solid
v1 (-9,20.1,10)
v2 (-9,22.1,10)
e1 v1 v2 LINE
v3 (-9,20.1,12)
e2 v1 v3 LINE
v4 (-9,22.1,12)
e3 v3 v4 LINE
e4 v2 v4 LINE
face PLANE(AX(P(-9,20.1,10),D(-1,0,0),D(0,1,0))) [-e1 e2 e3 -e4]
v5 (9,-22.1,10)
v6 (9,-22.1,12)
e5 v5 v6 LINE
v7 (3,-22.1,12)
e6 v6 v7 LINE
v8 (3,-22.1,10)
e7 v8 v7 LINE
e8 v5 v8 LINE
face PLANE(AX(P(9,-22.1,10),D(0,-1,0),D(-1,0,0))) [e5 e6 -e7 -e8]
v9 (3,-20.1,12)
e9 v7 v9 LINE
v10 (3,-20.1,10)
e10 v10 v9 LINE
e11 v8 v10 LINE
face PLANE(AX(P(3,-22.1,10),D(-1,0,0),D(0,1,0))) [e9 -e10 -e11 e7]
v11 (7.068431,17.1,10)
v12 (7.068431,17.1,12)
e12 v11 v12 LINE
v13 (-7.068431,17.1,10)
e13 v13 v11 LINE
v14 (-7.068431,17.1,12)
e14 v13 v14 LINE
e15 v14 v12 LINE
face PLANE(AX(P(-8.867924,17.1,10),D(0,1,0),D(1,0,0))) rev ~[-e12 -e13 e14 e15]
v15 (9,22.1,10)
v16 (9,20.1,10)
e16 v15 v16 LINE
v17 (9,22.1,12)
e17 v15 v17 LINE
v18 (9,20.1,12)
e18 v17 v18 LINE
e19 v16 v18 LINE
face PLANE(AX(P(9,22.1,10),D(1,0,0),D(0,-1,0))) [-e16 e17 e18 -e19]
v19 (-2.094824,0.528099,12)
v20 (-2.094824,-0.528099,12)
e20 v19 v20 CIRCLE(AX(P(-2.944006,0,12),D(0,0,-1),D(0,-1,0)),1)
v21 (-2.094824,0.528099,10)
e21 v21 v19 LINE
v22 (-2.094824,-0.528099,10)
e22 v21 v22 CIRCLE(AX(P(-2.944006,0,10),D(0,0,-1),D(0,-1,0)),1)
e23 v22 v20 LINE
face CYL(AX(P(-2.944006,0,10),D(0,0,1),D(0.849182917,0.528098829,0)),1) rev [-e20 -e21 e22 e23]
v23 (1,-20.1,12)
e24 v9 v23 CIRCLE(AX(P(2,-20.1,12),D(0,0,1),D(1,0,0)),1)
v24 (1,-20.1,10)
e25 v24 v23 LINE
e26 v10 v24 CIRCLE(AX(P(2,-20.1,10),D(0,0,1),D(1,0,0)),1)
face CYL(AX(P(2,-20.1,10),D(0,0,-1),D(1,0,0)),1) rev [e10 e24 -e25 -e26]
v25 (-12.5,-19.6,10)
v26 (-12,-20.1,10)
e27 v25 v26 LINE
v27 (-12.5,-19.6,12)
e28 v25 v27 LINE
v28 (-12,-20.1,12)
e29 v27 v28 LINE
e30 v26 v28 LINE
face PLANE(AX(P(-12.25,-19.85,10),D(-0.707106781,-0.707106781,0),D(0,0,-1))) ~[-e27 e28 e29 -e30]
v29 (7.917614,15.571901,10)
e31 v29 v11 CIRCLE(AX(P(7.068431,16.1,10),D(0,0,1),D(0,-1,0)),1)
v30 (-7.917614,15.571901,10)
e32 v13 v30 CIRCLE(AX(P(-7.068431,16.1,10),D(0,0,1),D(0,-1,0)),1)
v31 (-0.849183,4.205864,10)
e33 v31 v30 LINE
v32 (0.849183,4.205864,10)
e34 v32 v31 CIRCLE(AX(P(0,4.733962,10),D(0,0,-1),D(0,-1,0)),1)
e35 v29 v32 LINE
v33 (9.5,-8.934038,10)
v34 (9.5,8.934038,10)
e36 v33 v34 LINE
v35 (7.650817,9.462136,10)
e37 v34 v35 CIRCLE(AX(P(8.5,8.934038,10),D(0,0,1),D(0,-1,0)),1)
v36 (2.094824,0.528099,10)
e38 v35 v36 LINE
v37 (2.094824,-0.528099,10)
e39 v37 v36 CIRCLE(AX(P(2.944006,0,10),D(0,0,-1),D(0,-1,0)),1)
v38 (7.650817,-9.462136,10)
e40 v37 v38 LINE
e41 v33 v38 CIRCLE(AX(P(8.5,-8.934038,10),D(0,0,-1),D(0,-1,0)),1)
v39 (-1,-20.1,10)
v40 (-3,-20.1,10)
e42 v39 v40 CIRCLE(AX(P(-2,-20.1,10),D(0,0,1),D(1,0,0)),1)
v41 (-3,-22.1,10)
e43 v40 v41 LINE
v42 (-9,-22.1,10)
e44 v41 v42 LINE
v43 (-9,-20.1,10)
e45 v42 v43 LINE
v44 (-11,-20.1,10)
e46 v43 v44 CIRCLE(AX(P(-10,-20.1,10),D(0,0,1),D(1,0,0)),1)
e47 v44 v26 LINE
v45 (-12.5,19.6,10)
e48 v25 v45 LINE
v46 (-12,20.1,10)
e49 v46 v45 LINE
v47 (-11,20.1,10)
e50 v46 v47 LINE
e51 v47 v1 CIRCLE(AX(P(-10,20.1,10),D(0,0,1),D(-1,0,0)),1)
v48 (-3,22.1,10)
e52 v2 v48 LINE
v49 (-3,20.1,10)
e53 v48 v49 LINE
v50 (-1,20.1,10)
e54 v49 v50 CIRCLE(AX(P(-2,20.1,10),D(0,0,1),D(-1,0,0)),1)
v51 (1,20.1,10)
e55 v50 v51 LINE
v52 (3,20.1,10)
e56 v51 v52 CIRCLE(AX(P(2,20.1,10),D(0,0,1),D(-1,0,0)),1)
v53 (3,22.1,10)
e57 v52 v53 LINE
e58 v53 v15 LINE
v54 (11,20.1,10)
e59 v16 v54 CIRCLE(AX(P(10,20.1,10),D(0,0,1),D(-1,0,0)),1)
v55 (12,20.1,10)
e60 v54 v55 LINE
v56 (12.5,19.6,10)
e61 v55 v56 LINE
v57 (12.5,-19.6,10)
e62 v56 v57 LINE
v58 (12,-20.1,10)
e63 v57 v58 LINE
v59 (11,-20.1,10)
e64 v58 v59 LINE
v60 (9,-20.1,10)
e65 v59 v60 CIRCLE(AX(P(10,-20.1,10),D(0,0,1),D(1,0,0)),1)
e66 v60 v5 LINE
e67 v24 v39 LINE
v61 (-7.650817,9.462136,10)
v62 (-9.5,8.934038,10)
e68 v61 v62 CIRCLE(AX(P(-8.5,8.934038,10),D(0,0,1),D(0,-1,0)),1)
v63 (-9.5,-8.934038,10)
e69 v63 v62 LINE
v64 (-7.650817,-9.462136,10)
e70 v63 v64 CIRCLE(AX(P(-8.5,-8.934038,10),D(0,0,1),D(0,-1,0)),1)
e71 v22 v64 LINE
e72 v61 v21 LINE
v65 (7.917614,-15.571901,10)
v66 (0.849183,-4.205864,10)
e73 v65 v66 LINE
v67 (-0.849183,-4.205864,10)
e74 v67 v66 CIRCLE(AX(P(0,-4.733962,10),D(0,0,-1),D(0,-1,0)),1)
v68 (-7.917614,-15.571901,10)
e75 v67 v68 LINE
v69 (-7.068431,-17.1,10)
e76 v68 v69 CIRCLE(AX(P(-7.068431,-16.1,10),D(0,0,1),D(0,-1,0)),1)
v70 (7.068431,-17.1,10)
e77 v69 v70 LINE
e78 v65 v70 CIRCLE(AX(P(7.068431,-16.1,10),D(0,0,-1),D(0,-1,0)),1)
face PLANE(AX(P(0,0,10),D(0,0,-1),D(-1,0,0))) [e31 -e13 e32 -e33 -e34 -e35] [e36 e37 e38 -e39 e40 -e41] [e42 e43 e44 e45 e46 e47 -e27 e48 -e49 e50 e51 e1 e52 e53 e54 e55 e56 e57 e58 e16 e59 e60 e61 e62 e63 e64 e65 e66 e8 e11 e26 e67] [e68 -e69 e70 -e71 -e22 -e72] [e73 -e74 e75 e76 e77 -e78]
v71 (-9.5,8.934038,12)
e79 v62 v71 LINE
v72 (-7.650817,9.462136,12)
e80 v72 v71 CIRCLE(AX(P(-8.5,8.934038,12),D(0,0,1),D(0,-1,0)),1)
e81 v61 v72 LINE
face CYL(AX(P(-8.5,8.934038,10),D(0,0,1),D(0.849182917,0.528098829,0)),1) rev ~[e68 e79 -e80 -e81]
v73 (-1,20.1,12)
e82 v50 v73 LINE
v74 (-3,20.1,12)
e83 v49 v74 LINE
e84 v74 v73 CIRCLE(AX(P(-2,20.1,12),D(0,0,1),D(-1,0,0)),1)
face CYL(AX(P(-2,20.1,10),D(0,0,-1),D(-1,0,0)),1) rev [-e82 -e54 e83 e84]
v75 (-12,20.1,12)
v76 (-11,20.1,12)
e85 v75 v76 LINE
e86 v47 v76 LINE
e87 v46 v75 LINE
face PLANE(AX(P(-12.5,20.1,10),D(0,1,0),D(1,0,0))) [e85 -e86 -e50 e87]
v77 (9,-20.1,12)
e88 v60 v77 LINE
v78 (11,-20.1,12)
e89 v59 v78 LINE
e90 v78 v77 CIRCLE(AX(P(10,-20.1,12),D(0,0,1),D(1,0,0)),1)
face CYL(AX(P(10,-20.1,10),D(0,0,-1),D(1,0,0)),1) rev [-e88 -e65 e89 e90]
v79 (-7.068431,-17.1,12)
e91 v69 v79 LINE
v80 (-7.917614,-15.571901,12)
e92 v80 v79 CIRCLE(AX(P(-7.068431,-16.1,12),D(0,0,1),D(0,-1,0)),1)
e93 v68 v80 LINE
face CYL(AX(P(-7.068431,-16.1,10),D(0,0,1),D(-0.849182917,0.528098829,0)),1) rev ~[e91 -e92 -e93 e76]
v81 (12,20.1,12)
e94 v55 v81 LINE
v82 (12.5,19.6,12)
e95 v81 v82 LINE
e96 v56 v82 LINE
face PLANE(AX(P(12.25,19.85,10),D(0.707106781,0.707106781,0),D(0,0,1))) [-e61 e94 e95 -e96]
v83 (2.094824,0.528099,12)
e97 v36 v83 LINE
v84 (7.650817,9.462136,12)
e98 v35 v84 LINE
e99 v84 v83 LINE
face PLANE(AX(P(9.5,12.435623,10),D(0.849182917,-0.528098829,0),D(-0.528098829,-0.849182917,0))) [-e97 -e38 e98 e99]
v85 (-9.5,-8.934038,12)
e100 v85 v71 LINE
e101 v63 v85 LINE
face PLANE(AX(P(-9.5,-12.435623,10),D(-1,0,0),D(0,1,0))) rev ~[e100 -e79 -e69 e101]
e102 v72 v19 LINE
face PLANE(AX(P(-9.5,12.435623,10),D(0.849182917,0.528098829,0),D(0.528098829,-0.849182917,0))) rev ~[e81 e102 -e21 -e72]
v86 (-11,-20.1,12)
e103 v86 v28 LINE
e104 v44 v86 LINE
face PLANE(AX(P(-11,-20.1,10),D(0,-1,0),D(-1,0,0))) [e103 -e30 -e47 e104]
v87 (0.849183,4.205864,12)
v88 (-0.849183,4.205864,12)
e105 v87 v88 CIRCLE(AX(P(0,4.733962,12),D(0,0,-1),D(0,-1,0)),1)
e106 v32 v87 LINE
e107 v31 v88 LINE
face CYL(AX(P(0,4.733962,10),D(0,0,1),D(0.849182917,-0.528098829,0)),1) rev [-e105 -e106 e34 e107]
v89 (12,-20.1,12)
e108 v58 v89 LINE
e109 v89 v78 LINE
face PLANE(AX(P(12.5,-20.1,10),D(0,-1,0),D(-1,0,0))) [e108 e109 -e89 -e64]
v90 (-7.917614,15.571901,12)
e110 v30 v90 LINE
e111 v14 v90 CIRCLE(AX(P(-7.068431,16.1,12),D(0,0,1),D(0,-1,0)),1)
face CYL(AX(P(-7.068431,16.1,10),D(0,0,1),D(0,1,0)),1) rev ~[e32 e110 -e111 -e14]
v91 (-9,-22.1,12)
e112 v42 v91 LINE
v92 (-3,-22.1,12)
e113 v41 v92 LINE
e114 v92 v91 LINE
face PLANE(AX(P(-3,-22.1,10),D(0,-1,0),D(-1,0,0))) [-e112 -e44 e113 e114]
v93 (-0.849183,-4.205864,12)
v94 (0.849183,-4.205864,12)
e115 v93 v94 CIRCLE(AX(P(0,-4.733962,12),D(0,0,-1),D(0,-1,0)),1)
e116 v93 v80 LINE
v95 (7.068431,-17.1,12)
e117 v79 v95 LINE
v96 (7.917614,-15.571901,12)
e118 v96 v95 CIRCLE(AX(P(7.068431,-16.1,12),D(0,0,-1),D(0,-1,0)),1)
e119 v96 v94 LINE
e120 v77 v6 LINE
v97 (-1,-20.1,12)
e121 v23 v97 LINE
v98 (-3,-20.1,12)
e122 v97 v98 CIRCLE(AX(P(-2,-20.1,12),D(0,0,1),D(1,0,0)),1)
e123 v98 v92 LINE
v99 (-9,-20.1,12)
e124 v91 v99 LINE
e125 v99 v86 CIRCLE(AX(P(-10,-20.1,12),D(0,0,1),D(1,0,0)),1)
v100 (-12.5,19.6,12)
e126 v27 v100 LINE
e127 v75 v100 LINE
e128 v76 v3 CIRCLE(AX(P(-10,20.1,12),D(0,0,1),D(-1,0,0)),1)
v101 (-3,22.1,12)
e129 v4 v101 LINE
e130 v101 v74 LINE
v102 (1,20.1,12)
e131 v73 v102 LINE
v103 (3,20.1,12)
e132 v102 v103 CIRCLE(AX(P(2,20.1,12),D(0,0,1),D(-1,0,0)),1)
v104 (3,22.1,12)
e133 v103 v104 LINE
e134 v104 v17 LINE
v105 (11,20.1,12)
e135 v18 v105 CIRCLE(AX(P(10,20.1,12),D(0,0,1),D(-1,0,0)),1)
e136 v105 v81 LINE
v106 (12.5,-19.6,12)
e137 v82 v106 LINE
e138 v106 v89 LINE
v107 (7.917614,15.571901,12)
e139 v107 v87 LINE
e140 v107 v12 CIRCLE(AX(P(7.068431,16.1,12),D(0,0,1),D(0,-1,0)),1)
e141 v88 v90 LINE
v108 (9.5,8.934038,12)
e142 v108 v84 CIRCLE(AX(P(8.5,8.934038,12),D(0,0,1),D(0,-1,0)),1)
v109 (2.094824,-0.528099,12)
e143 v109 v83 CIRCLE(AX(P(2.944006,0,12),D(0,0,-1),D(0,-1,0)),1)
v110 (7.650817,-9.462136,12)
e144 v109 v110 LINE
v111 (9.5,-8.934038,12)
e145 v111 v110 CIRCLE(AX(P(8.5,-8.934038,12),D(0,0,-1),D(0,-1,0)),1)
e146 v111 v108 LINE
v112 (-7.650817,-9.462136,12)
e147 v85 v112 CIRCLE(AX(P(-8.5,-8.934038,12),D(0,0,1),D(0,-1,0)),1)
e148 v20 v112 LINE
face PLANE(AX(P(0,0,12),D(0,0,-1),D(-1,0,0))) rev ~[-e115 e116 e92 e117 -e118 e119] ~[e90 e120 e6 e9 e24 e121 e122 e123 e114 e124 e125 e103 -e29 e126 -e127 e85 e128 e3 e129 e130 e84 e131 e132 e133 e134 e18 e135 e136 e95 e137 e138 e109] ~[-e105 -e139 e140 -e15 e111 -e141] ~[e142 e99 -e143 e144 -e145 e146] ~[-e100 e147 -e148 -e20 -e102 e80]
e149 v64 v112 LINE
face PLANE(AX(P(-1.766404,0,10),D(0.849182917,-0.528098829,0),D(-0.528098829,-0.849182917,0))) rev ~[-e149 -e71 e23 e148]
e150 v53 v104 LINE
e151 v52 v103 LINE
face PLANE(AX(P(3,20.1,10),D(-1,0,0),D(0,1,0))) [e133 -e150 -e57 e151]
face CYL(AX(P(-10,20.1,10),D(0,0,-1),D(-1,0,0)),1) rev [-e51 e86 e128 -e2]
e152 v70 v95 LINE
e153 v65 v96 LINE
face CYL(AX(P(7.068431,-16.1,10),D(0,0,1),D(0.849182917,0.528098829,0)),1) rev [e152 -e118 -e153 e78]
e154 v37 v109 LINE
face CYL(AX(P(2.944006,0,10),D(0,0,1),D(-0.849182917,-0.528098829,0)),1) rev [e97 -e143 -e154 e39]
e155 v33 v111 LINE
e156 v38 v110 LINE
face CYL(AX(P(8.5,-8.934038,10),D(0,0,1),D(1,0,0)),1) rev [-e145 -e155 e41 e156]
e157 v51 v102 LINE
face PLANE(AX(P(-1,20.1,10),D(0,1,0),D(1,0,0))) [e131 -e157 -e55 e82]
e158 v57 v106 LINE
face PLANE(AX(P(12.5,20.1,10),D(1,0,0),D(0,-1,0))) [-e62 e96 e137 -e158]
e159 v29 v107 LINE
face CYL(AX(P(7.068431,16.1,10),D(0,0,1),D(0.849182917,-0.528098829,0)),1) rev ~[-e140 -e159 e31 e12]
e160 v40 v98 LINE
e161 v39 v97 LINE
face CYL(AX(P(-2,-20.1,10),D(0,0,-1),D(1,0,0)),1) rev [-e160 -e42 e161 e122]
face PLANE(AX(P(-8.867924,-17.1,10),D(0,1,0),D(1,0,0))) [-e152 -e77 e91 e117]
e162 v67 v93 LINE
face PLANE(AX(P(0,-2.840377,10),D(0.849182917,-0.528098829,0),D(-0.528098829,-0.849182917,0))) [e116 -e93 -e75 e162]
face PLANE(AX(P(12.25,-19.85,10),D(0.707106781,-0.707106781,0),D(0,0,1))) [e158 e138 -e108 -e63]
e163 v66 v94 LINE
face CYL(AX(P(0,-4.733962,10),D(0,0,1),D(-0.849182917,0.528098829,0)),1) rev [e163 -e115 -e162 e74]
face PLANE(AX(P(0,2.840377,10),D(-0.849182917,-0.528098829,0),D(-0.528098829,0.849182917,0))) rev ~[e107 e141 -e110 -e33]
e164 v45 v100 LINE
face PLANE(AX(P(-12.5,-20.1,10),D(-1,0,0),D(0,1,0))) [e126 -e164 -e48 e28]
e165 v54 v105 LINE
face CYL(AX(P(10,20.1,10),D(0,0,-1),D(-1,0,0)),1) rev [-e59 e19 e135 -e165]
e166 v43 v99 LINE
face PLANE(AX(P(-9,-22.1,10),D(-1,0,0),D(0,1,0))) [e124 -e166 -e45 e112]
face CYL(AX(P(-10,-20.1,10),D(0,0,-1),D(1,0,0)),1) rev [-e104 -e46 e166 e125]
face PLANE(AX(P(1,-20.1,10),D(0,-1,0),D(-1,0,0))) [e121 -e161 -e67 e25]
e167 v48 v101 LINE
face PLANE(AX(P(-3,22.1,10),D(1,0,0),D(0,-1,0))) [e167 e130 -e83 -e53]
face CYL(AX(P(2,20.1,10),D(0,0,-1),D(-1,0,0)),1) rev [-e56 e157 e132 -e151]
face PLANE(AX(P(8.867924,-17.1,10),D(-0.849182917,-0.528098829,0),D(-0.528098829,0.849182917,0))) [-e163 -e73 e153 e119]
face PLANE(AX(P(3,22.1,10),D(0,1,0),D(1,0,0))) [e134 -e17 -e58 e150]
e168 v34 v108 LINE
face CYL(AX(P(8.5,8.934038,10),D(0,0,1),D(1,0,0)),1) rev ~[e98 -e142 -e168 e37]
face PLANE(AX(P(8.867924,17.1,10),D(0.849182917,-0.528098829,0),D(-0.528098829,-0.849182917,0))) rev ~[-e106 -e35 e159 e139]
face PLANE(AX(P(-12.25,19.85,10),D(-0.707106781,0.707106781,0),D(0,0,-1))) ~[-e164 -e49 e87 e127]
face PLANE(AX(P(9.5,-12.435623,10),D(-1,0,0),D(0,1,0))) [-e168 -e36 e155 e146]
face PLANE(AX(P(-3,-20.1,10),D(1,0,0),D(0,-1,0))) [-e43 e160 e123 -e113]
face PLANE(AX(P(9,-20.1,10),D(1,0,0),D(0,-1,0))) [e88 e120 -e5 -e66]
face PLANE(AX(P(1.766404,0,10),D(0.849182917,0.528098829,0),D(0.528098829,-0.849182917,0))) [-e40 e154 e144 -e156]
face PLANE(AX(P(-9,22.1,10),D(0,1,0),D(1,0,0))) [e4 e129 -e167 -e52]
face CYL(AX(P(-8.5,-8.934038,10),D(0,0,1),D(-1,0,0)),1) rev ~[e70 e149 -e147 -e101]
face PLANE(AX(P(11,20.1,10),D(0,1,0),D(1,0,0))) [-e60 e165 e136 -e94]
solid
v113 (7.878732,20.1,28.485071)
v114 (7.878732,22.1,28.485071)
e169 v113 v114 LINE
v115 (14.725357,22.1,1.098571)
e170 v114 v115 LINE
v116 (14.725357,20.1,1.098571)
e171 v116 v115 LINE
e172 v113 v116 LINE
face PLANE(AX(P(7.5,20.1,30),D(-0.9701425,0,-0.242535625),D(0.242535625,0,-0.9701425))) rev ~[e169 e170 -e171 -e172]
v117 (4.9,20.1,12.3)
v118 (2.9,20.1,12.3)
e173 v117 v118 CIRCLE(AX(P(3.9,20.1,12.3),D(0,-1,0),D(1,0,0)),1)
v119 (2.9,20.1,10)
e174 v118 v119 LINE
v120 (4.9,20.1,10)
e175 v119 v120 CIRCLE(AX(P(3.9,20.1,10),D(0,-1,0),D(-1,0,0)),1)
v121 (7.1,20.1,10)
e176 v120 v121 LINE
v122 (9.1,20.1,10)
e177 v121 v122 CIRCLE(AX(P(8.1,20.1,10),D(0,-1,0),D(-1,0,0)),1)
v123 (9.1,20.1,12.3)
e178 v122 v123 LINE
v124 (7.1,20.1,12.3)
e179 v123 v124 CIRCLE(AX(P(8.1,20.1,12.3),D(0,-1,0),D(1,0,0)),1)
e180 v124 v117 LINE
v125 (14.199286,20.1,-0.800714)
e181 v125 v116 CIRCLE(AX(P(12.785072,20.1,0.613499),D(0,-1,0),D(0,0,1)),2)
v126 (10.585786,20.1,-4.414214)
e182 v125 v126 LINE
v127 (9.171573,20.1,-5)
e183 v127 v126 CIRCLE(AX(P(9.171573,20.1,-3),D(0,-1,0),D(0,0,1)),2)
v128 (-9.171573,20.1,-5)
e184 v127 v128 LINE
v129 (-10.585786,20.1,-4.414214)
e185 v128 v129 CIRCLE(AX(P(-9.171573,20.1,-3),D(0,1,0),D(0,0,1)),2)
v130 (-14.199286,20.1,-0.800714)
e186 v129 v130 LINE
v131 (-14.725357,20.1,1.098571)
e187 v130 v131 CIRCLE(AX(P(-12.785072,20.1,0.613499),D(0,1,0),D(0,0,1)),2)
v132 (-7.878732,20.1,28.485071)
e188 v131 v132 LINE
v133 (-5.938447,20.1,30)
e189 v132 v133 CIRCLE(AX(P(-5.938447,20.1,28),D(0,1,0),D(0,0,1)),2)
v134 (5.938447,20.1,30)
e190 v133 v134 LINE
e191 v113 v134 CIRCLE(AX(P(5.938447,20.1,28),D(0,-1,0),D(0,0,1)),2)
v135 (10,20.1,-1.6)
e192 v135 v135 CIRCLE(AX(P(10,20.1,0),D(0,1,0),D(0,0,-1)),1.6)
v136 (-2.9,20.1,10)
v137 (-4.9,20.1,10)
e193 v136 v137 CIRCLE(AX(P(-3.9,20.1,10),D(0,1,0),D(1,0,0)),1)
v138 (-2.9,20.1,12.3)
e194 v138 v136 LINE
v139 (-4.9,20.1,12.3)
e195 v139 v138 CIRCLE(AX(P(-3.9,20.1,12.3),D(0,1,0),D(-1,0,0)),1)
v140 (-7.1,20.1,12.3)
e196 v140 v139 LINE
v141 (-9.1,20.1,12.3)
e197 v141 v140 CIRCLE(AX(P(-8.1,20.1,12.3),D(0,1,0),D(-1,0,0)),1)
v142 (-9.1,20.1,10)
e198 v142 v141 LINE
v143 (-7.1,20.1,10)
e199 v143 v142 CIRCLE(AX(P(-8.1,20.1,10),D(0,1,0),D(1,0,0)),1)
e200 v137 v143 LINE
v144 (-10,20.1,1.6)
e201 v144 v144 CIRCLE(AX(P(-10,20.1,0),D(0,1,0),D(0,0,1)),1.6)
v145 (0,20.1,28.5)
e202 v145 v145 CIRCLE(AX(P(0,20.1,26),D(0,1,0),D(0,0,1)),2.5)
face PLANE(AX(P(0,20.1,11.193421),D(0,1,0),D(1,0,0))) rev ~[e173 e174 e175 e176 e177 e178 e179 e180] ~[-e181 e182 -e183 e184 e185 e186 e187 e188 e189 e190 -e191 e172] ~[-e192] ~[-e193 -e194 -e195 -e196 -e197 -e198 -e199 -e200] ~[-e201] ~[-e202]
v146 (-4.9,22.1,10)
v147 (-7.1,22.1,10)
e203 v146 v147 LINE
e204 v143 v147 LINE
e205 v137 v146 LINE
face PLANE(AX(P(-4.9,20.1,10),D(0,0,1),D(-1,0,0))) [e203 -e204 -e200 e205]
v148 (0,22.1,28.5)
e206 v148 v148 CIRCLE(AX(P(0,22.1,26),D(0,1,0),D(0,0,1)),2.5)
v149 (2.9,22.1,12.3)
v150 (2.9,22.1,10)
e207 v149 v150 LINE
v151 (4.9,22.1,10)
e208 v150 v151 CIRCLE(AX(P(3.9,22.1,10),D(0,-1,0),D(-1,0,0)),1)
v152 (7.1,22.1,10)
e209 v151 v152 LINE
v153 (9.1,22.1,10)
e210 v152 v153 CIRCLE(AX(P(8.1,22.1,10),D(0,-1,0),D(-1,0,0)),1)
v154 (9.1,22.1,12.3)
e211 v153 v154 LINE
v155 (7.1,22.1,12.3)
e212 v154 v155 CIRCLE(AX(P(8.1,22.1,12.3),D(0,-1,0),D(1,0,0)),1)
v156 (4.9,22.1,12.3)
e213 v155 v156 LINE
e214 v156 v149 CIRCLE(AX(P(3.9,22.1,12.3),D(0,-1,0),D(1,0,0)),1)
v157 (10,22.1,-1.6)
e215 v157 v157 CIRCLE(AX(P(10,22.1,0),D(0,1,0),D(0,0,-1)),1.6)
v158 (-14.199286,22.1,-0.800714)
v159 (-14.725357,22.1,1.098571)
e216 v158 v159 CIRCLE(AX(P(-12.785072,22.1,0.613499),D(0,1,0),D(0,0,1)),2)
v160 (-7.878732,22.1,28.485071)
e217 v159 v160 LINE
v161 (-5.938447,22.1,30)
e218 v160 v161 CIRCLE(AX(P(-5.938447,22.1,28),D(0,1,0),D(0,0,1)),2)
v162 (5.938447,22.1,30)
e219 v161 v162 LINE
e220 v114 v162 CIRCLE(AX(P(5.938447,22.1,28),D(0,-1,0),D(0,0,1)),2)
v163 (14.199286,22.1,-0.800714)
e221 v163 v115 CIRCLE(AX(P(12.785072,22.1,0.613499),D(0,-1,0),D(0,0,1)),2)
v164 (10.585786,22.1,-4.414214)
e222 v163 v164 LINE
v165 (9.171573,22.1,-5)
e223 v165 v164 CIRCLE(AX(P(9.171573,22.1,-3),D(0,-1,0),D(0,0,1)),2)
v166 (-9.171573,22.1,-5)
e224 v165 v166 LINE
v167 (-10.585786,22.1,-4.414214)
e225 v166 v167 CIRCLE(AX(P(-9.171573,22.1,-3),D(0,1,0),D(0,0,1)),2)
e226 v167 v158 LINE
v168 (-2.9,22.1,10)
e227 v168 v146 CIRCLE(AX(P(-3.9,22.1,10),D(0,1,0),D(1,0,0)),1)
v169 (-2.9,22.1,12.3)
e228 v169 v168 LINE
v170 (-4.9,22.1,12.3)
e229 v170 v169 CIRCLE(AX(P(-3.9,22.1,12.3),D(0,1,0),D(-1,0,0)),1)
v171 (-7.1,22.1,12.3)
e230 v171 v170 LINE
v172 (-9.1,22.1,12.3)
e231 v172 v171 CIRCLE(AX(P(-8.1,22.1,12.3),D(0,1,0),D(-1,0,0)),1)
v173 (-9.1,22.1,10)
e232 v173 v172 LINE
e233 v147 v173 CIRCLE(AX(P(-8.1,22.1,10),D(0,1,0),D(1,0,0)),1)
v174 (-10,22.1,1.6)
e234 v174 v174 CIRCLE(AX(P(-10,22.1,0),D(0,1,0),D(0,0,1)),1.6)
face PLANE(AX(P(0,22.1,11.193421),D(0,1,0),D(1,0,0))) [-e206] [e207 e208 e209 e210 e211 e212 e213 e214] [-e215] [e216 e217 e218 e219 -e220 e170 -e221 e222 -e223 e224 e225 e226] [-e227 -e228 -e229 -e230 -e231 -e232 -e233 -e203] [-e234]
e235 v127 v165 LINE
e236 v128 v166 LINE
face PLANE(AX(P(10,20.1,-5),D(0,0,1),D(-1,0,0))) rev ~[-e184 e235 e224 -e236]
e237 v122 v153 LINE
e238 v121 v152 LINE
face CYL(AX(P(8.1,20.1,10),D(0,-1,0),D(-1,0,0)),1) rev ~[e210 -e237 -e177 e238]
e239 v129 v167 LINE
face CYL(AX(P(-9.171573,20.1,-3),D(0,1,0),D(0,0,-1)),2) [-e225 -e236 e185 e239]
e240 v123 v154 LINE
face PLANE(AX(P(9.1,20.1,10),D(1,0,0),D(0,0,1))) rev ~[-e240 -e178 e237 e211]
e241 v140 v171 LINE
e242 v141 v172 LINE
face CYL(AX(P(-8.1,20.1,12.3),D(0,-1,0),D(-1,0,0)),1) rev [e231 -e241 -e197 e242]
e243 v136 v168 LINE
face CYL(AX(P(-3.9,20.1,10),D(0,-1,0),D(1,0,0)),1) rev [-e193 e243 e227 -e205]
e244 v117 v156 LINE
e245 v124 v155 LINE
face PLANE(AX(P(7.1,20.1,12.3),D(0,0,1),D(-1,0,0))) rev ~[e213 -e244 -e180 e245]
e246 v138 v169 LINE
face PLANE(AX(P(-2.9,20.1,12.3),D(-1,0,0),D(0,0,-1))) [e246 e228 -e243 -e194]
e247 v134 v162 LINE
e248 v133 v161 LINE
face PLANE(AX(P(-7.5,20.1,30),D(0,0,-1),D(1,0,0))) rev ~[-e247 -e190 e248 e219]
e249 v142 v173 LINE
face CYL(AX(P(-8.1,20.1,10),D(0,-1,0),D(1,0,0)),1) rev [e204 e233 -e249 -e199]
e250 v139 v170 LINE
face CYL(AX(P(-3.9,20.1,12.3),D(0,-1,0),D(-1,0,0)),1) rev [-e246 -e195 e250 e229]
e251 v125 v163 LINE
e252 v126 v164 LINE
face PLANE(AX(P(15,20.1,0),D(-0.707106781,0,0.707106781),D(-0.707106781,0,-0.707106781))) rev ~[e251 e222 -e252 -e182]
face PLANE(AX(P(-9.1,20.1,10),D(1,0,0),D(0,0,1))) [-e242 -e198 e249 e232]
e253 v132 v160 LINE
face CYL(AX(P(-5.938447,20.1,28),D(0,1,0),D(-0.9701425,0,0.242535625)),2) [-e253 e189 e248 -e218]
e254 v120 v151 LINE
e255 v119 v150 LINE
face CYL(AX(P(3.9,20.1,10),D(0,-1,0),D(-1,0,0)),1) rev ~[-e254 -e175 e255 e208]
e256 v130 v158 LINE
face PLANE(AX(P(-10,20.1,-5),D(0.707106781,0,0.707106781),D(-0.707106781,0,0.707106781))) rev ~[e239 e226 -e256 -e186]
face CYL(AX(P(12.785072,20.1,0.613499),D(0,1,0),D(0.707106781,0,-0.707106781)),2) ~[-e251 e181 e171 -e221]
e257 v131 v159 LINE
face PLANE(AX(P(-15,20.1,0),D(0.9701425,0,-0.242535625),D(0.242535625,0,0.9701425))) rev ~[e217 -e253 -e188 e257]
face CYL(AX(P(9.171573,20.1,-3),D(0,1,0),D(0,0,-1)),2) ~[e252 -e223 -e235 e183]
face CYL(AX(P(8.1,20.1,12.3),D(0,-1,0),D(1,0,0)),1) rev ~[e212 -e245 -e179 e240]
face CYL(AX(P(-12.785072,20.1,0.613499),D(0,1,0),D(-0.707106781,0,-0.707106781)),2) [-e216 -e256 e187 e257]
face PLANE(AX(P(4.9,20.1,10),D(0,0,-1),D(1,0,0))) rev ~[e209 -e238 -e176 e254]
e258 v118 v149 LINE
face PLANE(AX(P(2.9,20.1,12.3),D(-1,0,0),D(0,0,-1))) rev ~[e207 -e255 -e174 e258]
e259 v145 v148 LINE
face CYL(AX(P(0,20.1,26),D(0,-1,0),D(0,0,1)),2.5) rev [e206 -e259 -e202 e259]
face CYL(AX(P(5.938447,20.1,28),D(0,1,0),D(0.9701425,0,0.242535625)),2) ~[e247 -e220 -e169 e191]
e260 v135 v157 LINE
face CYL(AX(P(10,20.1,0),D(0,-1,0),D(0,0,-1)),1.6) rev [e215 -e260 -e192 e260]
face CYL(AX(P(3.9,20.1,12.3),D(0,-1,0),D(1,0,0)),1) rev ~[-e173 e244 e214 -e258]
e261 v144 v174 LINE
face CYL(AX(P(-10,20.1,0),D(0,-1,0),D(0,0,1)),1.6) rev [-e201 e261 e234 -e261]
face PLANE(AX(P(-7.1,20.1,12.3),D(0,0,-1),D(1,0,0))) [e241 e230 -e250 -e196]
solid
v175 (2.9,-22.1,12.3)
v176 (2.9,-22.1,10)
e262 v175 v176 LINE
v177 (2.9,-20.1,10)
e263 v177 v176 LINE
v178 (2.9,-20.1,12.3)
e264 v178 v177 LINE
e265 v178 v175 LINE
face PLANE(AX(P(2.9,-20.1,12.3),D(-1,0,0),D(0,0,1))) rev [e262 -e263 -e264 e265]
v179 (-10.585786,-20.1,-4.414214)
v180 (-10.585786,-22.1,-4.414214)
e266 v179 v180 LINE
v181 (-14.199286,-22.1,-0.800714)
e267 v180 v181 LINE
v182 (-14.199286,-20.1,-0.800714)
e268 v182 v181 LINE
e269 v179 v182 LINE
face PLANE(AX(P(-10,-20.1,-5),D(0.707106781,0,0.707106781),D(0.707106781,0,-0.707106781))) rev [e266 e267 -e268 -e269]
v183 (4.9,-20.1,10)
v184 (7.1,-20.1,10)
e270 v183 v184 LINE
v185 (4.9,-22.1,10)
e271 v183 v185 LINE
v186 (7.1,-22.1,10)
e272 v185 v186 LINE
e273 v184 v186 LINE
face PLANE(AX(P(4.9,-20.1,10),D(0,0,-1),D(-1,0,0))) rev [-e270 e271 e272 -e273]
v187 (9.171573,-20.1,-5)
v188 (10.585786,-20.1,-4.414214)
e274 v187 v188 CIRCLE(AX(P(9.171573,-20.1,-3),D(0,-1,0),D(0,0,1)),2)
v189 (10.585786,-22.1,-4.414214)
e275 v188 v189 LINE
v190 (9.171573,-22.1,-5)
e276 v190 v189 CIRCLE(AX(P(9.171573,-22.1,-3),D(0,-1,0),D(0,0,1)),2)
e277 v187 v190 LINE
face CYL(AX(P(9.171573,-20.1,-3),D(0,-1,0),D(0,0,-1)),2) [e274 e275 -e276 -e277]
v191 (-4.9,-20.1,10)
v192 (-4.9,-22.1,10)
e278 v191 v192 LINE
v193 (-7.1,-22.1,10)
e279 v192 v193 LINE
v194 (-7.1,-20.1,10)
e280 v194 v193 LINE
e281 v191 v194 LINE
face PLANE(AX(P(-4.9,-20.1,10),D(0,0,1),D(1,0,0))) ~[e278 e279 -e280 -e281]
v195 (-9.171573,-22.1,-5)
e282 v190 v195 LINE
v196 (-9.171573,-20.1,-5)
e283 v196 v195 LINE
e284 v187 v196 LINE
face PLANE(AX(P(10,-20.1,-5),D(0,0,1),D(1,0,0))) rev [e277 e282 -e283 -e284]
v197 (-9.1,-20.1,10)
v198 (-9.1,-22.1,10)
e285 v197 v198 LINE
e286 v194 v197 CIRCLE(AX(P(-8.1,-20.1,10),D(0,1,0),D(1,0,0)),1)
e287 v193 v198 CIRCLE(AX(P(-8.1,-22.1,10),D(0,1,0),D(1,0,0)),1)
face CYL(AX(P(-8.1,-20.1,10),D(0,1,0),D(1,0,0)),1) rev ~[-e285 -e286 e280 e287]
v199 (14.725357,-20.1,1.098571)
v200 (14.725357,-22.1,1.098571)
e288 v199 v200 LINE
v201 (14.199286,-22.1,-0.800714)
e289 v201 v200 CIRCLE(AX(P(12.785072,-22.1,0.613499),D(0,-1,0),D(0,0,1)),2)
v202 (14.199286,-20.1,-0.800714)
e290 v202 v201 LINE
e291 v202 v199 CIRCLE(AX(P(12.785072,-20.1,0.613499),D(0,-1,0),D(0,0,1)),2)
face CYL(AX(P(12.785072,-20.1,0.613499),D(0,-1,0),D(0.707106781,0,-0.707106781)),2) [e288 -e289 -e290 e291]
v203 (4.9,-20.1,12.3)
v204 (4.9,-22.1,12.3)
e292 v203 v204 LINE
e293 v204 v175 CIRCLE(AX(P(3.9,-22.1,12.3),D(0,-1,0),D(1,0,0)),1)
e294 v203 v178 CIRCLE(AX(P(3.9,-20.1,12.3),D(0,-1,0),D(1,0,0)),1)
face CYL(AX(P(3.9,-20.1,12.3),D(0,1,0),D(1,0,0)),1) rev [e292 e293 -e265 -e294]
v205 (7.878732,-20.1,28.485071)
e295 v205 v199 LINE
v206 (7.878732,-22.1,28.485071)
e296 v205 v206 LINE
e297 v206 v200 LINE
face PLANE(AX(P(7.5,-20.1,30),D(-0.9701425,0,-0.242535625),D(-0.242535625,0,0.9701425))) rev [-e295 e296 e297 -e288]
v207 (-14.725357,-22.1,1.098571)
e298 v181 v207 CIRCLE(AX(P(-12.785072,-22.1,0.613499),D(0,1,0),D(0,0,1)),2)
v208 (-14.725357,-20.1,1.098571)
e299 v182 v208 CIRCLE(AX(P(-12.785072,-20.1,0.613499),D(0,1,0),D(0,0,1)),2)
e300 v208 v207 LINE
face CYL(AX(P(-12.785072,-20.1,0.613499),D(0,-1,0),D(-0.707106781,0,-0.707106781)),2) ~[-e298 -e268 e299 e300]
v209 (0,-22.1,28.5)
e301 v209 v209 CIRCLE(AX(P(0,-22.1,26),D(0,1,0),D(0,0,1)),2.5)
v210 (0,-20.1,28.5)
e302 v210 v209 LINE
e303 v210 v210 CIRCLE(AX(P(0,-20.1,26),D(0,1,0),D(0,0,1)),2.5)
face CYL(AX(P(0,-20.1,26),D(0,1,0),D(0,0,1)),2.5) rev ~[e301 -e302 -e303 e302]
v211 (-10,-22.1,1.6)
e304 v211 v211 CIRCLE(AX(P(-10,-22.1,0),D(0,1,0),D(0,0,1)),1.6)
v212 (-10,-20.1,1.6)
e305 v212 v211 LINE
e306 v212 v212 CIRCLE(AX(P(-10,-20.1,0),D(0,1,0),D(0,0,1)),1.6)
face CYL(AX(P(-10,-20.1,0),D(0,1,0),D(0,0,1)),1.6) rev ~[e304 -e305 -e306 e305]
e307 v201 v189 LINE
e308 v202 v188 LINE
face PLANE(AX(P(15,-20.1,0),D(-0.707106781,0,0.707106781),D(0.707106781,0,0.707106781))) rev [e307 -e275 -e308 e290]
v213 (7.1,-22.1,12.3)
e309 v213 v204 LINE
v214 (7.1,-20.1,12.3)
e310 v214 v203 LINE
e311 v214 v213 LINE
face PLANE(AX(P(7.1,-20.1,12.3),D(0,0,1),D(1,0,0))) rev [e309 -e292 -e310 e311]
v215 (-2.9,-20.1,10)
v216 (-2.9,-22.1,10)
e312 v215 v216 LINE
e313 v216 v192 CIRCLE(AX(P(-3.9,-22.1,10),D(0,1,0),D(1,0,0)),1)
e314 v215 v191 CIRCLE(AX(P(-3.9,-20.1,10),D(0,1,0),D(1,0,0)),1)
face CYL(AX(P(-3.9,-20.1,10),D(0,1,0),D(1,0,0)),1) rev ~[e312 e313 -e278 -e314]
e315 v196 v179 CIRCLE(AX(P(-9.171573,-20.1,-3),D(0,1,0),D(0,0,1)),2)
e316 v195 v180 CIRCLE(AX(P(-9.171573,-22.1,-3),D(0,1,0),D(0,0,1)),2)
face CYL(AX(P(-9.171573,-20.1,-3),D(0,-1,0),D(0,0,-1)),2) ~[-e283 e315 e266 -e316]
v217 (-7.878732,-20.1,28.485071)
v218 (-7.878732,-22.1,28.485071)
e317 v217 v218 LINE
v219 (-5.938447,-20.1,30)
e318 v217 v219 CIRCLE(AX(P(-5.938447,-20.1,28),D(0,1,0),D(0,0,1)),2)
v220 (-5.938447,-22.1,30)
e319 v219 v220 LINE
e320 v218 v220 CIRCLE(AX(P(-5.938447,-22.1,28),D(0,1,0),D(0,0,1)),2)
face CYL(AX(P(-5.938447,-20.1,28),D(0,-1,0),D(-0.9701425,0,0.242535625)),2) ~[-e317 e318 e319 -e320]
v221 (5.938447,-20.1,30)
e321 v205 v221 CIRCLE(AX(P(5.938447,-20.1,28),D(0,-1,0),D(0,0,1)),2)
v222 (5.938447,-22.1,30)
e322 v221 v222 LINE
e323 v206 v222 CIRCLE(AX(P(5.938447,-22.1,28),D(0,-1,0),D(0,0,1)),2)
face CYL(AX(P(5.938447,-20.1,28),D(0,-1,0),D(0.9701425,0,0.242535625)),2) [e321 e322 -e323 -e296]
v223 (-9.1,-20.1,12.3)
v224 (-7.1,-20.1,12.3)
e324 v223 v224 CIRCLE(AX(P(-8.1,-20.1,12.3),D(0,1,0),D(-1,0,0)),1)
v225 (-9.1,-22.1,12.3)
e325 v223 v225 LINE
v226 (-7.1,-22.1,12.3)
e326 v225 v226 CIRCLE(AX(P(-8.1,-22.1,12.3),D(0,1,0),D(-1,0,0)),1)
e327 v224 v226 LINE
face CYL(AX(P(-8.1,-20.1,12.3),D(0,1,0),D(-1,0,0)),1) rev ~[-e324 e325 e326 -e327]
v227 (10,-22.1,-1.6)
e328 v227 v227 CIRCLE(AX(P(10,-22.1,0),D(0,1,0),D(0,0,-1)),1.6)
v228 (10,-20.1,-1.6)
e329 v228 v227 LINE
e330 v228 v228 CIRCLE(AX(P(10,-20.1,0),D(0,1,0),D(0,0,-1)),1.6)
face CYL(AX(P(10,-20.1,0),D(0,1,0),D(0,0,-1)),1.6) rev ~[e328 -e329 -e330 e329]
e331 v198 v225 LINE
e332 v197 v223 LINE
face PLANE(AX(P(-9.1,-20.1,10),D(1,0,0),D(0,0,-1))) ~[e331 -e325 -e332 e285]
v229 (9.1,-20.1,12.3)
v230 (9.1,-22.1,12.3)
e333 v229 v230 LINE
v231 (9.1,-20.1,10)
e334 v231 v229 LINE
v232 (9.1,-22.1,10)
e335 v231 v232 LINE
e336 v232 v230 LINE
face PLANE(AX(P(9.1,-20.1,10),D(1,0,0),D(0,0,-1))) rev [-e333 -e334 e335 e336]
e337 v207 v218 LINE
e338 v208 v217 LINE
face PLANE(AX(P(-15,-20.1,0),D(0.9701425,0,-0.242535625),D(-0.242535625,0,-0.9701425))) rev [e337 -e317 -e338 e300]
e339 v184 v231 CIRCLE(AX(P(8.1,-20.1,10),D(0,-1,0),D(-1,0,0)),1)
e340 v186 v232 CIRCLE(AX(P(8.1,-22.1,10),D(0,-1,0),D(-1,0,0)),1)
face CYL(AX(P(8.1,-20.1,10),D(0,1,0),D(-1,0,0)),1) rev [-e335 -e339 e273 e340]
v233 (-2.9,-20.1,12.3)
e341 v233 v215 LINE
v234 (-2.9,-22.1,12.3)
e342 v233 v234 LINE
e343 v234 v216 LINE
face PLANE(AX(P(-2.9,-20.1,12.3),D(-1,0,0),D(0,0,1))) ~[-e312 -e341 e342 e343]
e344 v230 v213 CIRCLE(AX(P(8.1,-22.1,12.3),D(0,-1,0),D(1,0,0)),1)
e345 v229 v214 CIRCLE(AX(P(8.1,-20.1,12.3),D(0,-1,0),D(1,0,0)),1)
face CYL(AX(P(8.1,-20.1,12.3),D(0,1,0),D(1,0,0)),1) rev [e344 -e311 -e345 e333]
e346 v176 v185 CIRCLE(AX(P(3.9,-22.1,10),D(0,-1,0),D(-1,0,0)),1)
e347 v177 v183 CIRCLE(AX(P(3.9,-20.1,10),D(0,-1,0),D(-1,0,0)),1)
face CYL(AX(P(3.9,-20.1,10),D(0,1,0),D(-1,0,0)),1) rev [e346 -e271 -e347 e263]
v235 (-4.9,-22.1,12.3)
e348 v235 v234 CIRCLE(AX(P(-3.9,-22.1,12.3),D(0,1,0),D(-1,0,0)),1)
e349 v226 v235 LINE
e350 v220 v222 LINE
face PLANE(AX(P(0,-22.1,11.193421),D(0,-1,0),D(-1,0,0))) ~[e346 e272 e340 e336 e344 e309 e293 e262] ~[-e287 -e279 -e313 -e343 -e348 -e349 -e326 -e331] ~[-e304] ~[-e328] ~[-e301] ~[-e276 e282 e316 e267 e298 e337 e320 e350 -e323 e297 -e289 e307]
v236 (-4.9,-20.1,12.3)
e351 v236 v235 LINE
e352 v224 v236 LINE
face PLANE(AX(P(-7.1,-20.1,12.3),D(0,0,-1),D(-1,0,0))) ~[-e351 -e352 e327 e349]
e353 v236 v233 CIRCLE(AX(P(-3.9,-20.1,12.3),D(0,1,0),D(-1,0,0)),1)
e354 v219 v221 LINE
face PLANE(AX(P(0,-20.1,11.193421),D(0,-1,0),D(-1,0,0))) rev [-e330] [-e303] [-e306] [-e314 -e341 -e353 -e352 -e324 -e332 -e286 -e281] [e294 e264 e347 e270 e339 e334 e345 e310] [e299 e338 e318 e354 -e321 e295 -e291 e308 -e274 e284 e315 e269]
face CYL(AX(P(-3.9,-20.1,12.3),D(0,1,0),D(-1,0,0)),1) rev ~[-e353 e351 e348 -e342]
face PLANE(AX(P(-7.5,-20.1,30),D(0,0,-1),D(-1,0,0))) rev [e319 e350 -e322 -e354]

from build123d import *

# Parameters (mm, degrees)
EXTRUDE_START   = 20.1
SKETCH_1_R      = 1.6
SKETCH_1_R_2    = 2.5
EXTRUDE_1_DEPTH = 2
FILLET_1_R      = 2
EXTRUDE_2_DEPTH = 2
FILLET_2_R      = 1
CHAMFER_1_SIZE  = 0.5


with BuildPart() as part:
    # 草图1 → 凸台-拉伸1 (new body)
    with BuildSketch(Plane(origin=(0, 0, 0), x_dir=(1, 0, 0), z_dir=(0, 1, 0)).offset(EXTRUDE_START)):
        Polygon((10, 5), (-10, 5), (-15, 0), (-7.5, -30), (7.5, -30), (15, 0), align=None)
        with Locations(Location((-10, 0, 0), (0, 0, 270))):
            Circle(SKETCH_1_R, mode=Mode.SUBTRACT)
        with Locations(Location((10, 0, 0), (0, 0, 90))):
            Circle(SKETCH_1_R, mode=Mode.SUBTRACT)
        with Locations(Location((0, -26, 0), (0, 0, 270))):
            Circle(SKETCH_1_R_2, mode=Mode.SUBTRACT)
        with BuildLine():
            Line((-4.9, -10), (-7.1, -10))
            ThreePointArc((-7.1, -10), (-8.1, -9), (-9.1, -10))
            Line((-9.1, -10), (-9.1, -12.3))
            ThreePointArc((-9.1, -12.3), (-8.1, -13.3), (-7.1, -12.3))
            Line((-7.1, -12.3), (-4.9, -12.3))
            ThreePointArc((-4.9, -12.3), (-3.9, -13.3), (-2.9, -12.3))
            Line((-2.9, -12.3), (-2.9, -10))
            ThreePointArc((-2.9, -10), (-3.9, -9), (-4.9, -10))
        make_face(mode=Mode.SUBTRACT)
        with BuildLine():
            Line((4.9, -10), (7.1, -10))
            ThreePointArc((7.1, -10), (8.1, -9), (9.1, -10))
            Line((9.1, -10), (9.1, -12.3))
            ThreePointArc((9.1, -12.3), (8.1, -13.3), (7.1, -12.3))
            Line((7.1, -12.3), (4.9, -12.3))
            ThreePointArc((4.9, -12.3), (3.9, -13.3), (2.9, -12.3))
            Line((2.9, -12.3), (2.9, -10))
            ThreePointArc((2.9, -10), (3.9, -9), (4.9, -10))
        make_face(mode=Mode.SUBTRACT)
    extrude(amount=EXTRUDE_1_DEPTH)

    # 圆角1
    fillet_1_edges = [part.edges().sort_by_distance(p)[0] for p in [
        (-10, 21.1, -5),
        (10, 21.1, -5),
        (15, 21.1, 0),
        (7.5, 21.1, 30),
        (-7.5, 21.1, 30),
        (-15, 21.1, 0),
    ]]
    fillet(fillet_1_edges, radius=FILLET_1_R)


with BuildPart() as body_2:
    # 镜向2: mirrored copy
    add(part.part.mirror(Plane.ZX))


with BuildPart() as body_3:
    # 草图2 → 凸台-拉伸2 (new body)
    with BuildSketch(Plane.XY.offset(10)):
        with BuildLine():
            Line((-9, 22.1), (-3, 22.1))
            Line((-3, 22.1), (-3, 20.1))
            ThreePointArc((-3, 20.1), (-2, 19.1), (-1, 20.1))
            Line((-1, 20.1), (1, 20.1))
            ThreePointArc((1, 20.1), (2, 19.1), (3, 20.1))
            Line((3, 20.1), (3, 22.1))
            Line((3, 22.1), (9, 22.1))
            Line((9, 22.1), (9, 20.1))
            ThreePointArc((9, 20.1), (10, 19.1), (11, 20.1))
            Line((11, 20.1), (12.5, 20.1))
            Line((12.5, 20.1), (12.5, -20.1))
            Line((12.5, -20.1), (11, -20.1))
            ThreePointArc((11, -20.1), (10, -19.1), (9, -20.1))
            Line((9, -20.1), (9, -22.1))
            Line((9, -22.1), (3, -22.1))
            Line((3, -22.1), (3, -20.1))
            ThreePointArc((3, -20.1), (2, -19.1), (1, -20.1))
            Line((1, -20.1), (-1, -20.1))
            ThreePointArc((-1, -20.1), (-2, -19.1), (-3, -20.1))
            Line((-3, -20.1), (-3, -22.1))
            Line((-3, -22.1), (-9, -22.1))
            Line((-9, -22.1), (-9, -20.1))
            ThreePointArc((-9, -20.1), (-10, -19.1), (-11, -20.1))
            Line((-11, -20.1), (-12.5, -20.1))
            Line((-12.5, -20.1), (-12.5, 20.1))
            Line((-12.5, 20.1), (-11, 20.1))
            ThreePointArc((-11, 20.1), (-10, 19.1), (-9, 20.1))
            Line((-9, 20.1), (-9, 22.1))
        make_face()
        Polygon((-9.5, 12.43562256), (-1.76640388, 0), (-9.5, -12.43562256), align=None, mode=Mode.SUBTRACT)
        Polygon((8.867924478, 17.1), (0, 2.84037744), (-8.867924478, 17.1), align=None, mode=Mode.SUBTRACT)
        Polygon((9.5, 12.43562256), (1.76640388, 0), (9.5, -12.43562256), align=None, mode=Mode.SUBTRACT)
        Polygon((-8.867924478, -17.1), (8.867924478, -17.1), (0, -2.84037744), align=None, mode=Mode.SUBTRACT)
    extrude(amount=EXTRUDE_2_DEPTH)

    # 圆角2
    fillet_2_edges = [body_3.edges().sort_by_distance(p)[0] for p in [
        (-8.867924478, 17.1, 11),
        (0, 2.84037744, 11),
        (8.867924478, 17.1, 11),
        (-9.5, -12.43562256, 11),
        (-1.76640388, 0, 11),
        (-9.5, 12.43562256, 11),
        (0, -2.84037744, 11),
        (-8.867924478, -17.1, 11),
        (8.867924478, -17.1, 11),
        (1.76640388, 0, 11),
        (9.5, -12.43562256, 11),
        (9.5, 12.43562256, 11),
    ]]
    fillet(fillet_2_edges, radius=FILLET_2_R)

    # 倒角1
    chamfer_1_edges = [body_3.edges().sort_by_distance(p)[0] for p in [
        (12.5, 20.1, 11),
        (12.5, -20.1, 11),
        (-12.5, -20.1, 11),
        (-12.5, 20.1, 11),
    ]]
    chamfer(chamfer_1_edges, length=CHAMFER_1_SIZE)


solid = Compound([part.part, body_2.part, body_3.part])
